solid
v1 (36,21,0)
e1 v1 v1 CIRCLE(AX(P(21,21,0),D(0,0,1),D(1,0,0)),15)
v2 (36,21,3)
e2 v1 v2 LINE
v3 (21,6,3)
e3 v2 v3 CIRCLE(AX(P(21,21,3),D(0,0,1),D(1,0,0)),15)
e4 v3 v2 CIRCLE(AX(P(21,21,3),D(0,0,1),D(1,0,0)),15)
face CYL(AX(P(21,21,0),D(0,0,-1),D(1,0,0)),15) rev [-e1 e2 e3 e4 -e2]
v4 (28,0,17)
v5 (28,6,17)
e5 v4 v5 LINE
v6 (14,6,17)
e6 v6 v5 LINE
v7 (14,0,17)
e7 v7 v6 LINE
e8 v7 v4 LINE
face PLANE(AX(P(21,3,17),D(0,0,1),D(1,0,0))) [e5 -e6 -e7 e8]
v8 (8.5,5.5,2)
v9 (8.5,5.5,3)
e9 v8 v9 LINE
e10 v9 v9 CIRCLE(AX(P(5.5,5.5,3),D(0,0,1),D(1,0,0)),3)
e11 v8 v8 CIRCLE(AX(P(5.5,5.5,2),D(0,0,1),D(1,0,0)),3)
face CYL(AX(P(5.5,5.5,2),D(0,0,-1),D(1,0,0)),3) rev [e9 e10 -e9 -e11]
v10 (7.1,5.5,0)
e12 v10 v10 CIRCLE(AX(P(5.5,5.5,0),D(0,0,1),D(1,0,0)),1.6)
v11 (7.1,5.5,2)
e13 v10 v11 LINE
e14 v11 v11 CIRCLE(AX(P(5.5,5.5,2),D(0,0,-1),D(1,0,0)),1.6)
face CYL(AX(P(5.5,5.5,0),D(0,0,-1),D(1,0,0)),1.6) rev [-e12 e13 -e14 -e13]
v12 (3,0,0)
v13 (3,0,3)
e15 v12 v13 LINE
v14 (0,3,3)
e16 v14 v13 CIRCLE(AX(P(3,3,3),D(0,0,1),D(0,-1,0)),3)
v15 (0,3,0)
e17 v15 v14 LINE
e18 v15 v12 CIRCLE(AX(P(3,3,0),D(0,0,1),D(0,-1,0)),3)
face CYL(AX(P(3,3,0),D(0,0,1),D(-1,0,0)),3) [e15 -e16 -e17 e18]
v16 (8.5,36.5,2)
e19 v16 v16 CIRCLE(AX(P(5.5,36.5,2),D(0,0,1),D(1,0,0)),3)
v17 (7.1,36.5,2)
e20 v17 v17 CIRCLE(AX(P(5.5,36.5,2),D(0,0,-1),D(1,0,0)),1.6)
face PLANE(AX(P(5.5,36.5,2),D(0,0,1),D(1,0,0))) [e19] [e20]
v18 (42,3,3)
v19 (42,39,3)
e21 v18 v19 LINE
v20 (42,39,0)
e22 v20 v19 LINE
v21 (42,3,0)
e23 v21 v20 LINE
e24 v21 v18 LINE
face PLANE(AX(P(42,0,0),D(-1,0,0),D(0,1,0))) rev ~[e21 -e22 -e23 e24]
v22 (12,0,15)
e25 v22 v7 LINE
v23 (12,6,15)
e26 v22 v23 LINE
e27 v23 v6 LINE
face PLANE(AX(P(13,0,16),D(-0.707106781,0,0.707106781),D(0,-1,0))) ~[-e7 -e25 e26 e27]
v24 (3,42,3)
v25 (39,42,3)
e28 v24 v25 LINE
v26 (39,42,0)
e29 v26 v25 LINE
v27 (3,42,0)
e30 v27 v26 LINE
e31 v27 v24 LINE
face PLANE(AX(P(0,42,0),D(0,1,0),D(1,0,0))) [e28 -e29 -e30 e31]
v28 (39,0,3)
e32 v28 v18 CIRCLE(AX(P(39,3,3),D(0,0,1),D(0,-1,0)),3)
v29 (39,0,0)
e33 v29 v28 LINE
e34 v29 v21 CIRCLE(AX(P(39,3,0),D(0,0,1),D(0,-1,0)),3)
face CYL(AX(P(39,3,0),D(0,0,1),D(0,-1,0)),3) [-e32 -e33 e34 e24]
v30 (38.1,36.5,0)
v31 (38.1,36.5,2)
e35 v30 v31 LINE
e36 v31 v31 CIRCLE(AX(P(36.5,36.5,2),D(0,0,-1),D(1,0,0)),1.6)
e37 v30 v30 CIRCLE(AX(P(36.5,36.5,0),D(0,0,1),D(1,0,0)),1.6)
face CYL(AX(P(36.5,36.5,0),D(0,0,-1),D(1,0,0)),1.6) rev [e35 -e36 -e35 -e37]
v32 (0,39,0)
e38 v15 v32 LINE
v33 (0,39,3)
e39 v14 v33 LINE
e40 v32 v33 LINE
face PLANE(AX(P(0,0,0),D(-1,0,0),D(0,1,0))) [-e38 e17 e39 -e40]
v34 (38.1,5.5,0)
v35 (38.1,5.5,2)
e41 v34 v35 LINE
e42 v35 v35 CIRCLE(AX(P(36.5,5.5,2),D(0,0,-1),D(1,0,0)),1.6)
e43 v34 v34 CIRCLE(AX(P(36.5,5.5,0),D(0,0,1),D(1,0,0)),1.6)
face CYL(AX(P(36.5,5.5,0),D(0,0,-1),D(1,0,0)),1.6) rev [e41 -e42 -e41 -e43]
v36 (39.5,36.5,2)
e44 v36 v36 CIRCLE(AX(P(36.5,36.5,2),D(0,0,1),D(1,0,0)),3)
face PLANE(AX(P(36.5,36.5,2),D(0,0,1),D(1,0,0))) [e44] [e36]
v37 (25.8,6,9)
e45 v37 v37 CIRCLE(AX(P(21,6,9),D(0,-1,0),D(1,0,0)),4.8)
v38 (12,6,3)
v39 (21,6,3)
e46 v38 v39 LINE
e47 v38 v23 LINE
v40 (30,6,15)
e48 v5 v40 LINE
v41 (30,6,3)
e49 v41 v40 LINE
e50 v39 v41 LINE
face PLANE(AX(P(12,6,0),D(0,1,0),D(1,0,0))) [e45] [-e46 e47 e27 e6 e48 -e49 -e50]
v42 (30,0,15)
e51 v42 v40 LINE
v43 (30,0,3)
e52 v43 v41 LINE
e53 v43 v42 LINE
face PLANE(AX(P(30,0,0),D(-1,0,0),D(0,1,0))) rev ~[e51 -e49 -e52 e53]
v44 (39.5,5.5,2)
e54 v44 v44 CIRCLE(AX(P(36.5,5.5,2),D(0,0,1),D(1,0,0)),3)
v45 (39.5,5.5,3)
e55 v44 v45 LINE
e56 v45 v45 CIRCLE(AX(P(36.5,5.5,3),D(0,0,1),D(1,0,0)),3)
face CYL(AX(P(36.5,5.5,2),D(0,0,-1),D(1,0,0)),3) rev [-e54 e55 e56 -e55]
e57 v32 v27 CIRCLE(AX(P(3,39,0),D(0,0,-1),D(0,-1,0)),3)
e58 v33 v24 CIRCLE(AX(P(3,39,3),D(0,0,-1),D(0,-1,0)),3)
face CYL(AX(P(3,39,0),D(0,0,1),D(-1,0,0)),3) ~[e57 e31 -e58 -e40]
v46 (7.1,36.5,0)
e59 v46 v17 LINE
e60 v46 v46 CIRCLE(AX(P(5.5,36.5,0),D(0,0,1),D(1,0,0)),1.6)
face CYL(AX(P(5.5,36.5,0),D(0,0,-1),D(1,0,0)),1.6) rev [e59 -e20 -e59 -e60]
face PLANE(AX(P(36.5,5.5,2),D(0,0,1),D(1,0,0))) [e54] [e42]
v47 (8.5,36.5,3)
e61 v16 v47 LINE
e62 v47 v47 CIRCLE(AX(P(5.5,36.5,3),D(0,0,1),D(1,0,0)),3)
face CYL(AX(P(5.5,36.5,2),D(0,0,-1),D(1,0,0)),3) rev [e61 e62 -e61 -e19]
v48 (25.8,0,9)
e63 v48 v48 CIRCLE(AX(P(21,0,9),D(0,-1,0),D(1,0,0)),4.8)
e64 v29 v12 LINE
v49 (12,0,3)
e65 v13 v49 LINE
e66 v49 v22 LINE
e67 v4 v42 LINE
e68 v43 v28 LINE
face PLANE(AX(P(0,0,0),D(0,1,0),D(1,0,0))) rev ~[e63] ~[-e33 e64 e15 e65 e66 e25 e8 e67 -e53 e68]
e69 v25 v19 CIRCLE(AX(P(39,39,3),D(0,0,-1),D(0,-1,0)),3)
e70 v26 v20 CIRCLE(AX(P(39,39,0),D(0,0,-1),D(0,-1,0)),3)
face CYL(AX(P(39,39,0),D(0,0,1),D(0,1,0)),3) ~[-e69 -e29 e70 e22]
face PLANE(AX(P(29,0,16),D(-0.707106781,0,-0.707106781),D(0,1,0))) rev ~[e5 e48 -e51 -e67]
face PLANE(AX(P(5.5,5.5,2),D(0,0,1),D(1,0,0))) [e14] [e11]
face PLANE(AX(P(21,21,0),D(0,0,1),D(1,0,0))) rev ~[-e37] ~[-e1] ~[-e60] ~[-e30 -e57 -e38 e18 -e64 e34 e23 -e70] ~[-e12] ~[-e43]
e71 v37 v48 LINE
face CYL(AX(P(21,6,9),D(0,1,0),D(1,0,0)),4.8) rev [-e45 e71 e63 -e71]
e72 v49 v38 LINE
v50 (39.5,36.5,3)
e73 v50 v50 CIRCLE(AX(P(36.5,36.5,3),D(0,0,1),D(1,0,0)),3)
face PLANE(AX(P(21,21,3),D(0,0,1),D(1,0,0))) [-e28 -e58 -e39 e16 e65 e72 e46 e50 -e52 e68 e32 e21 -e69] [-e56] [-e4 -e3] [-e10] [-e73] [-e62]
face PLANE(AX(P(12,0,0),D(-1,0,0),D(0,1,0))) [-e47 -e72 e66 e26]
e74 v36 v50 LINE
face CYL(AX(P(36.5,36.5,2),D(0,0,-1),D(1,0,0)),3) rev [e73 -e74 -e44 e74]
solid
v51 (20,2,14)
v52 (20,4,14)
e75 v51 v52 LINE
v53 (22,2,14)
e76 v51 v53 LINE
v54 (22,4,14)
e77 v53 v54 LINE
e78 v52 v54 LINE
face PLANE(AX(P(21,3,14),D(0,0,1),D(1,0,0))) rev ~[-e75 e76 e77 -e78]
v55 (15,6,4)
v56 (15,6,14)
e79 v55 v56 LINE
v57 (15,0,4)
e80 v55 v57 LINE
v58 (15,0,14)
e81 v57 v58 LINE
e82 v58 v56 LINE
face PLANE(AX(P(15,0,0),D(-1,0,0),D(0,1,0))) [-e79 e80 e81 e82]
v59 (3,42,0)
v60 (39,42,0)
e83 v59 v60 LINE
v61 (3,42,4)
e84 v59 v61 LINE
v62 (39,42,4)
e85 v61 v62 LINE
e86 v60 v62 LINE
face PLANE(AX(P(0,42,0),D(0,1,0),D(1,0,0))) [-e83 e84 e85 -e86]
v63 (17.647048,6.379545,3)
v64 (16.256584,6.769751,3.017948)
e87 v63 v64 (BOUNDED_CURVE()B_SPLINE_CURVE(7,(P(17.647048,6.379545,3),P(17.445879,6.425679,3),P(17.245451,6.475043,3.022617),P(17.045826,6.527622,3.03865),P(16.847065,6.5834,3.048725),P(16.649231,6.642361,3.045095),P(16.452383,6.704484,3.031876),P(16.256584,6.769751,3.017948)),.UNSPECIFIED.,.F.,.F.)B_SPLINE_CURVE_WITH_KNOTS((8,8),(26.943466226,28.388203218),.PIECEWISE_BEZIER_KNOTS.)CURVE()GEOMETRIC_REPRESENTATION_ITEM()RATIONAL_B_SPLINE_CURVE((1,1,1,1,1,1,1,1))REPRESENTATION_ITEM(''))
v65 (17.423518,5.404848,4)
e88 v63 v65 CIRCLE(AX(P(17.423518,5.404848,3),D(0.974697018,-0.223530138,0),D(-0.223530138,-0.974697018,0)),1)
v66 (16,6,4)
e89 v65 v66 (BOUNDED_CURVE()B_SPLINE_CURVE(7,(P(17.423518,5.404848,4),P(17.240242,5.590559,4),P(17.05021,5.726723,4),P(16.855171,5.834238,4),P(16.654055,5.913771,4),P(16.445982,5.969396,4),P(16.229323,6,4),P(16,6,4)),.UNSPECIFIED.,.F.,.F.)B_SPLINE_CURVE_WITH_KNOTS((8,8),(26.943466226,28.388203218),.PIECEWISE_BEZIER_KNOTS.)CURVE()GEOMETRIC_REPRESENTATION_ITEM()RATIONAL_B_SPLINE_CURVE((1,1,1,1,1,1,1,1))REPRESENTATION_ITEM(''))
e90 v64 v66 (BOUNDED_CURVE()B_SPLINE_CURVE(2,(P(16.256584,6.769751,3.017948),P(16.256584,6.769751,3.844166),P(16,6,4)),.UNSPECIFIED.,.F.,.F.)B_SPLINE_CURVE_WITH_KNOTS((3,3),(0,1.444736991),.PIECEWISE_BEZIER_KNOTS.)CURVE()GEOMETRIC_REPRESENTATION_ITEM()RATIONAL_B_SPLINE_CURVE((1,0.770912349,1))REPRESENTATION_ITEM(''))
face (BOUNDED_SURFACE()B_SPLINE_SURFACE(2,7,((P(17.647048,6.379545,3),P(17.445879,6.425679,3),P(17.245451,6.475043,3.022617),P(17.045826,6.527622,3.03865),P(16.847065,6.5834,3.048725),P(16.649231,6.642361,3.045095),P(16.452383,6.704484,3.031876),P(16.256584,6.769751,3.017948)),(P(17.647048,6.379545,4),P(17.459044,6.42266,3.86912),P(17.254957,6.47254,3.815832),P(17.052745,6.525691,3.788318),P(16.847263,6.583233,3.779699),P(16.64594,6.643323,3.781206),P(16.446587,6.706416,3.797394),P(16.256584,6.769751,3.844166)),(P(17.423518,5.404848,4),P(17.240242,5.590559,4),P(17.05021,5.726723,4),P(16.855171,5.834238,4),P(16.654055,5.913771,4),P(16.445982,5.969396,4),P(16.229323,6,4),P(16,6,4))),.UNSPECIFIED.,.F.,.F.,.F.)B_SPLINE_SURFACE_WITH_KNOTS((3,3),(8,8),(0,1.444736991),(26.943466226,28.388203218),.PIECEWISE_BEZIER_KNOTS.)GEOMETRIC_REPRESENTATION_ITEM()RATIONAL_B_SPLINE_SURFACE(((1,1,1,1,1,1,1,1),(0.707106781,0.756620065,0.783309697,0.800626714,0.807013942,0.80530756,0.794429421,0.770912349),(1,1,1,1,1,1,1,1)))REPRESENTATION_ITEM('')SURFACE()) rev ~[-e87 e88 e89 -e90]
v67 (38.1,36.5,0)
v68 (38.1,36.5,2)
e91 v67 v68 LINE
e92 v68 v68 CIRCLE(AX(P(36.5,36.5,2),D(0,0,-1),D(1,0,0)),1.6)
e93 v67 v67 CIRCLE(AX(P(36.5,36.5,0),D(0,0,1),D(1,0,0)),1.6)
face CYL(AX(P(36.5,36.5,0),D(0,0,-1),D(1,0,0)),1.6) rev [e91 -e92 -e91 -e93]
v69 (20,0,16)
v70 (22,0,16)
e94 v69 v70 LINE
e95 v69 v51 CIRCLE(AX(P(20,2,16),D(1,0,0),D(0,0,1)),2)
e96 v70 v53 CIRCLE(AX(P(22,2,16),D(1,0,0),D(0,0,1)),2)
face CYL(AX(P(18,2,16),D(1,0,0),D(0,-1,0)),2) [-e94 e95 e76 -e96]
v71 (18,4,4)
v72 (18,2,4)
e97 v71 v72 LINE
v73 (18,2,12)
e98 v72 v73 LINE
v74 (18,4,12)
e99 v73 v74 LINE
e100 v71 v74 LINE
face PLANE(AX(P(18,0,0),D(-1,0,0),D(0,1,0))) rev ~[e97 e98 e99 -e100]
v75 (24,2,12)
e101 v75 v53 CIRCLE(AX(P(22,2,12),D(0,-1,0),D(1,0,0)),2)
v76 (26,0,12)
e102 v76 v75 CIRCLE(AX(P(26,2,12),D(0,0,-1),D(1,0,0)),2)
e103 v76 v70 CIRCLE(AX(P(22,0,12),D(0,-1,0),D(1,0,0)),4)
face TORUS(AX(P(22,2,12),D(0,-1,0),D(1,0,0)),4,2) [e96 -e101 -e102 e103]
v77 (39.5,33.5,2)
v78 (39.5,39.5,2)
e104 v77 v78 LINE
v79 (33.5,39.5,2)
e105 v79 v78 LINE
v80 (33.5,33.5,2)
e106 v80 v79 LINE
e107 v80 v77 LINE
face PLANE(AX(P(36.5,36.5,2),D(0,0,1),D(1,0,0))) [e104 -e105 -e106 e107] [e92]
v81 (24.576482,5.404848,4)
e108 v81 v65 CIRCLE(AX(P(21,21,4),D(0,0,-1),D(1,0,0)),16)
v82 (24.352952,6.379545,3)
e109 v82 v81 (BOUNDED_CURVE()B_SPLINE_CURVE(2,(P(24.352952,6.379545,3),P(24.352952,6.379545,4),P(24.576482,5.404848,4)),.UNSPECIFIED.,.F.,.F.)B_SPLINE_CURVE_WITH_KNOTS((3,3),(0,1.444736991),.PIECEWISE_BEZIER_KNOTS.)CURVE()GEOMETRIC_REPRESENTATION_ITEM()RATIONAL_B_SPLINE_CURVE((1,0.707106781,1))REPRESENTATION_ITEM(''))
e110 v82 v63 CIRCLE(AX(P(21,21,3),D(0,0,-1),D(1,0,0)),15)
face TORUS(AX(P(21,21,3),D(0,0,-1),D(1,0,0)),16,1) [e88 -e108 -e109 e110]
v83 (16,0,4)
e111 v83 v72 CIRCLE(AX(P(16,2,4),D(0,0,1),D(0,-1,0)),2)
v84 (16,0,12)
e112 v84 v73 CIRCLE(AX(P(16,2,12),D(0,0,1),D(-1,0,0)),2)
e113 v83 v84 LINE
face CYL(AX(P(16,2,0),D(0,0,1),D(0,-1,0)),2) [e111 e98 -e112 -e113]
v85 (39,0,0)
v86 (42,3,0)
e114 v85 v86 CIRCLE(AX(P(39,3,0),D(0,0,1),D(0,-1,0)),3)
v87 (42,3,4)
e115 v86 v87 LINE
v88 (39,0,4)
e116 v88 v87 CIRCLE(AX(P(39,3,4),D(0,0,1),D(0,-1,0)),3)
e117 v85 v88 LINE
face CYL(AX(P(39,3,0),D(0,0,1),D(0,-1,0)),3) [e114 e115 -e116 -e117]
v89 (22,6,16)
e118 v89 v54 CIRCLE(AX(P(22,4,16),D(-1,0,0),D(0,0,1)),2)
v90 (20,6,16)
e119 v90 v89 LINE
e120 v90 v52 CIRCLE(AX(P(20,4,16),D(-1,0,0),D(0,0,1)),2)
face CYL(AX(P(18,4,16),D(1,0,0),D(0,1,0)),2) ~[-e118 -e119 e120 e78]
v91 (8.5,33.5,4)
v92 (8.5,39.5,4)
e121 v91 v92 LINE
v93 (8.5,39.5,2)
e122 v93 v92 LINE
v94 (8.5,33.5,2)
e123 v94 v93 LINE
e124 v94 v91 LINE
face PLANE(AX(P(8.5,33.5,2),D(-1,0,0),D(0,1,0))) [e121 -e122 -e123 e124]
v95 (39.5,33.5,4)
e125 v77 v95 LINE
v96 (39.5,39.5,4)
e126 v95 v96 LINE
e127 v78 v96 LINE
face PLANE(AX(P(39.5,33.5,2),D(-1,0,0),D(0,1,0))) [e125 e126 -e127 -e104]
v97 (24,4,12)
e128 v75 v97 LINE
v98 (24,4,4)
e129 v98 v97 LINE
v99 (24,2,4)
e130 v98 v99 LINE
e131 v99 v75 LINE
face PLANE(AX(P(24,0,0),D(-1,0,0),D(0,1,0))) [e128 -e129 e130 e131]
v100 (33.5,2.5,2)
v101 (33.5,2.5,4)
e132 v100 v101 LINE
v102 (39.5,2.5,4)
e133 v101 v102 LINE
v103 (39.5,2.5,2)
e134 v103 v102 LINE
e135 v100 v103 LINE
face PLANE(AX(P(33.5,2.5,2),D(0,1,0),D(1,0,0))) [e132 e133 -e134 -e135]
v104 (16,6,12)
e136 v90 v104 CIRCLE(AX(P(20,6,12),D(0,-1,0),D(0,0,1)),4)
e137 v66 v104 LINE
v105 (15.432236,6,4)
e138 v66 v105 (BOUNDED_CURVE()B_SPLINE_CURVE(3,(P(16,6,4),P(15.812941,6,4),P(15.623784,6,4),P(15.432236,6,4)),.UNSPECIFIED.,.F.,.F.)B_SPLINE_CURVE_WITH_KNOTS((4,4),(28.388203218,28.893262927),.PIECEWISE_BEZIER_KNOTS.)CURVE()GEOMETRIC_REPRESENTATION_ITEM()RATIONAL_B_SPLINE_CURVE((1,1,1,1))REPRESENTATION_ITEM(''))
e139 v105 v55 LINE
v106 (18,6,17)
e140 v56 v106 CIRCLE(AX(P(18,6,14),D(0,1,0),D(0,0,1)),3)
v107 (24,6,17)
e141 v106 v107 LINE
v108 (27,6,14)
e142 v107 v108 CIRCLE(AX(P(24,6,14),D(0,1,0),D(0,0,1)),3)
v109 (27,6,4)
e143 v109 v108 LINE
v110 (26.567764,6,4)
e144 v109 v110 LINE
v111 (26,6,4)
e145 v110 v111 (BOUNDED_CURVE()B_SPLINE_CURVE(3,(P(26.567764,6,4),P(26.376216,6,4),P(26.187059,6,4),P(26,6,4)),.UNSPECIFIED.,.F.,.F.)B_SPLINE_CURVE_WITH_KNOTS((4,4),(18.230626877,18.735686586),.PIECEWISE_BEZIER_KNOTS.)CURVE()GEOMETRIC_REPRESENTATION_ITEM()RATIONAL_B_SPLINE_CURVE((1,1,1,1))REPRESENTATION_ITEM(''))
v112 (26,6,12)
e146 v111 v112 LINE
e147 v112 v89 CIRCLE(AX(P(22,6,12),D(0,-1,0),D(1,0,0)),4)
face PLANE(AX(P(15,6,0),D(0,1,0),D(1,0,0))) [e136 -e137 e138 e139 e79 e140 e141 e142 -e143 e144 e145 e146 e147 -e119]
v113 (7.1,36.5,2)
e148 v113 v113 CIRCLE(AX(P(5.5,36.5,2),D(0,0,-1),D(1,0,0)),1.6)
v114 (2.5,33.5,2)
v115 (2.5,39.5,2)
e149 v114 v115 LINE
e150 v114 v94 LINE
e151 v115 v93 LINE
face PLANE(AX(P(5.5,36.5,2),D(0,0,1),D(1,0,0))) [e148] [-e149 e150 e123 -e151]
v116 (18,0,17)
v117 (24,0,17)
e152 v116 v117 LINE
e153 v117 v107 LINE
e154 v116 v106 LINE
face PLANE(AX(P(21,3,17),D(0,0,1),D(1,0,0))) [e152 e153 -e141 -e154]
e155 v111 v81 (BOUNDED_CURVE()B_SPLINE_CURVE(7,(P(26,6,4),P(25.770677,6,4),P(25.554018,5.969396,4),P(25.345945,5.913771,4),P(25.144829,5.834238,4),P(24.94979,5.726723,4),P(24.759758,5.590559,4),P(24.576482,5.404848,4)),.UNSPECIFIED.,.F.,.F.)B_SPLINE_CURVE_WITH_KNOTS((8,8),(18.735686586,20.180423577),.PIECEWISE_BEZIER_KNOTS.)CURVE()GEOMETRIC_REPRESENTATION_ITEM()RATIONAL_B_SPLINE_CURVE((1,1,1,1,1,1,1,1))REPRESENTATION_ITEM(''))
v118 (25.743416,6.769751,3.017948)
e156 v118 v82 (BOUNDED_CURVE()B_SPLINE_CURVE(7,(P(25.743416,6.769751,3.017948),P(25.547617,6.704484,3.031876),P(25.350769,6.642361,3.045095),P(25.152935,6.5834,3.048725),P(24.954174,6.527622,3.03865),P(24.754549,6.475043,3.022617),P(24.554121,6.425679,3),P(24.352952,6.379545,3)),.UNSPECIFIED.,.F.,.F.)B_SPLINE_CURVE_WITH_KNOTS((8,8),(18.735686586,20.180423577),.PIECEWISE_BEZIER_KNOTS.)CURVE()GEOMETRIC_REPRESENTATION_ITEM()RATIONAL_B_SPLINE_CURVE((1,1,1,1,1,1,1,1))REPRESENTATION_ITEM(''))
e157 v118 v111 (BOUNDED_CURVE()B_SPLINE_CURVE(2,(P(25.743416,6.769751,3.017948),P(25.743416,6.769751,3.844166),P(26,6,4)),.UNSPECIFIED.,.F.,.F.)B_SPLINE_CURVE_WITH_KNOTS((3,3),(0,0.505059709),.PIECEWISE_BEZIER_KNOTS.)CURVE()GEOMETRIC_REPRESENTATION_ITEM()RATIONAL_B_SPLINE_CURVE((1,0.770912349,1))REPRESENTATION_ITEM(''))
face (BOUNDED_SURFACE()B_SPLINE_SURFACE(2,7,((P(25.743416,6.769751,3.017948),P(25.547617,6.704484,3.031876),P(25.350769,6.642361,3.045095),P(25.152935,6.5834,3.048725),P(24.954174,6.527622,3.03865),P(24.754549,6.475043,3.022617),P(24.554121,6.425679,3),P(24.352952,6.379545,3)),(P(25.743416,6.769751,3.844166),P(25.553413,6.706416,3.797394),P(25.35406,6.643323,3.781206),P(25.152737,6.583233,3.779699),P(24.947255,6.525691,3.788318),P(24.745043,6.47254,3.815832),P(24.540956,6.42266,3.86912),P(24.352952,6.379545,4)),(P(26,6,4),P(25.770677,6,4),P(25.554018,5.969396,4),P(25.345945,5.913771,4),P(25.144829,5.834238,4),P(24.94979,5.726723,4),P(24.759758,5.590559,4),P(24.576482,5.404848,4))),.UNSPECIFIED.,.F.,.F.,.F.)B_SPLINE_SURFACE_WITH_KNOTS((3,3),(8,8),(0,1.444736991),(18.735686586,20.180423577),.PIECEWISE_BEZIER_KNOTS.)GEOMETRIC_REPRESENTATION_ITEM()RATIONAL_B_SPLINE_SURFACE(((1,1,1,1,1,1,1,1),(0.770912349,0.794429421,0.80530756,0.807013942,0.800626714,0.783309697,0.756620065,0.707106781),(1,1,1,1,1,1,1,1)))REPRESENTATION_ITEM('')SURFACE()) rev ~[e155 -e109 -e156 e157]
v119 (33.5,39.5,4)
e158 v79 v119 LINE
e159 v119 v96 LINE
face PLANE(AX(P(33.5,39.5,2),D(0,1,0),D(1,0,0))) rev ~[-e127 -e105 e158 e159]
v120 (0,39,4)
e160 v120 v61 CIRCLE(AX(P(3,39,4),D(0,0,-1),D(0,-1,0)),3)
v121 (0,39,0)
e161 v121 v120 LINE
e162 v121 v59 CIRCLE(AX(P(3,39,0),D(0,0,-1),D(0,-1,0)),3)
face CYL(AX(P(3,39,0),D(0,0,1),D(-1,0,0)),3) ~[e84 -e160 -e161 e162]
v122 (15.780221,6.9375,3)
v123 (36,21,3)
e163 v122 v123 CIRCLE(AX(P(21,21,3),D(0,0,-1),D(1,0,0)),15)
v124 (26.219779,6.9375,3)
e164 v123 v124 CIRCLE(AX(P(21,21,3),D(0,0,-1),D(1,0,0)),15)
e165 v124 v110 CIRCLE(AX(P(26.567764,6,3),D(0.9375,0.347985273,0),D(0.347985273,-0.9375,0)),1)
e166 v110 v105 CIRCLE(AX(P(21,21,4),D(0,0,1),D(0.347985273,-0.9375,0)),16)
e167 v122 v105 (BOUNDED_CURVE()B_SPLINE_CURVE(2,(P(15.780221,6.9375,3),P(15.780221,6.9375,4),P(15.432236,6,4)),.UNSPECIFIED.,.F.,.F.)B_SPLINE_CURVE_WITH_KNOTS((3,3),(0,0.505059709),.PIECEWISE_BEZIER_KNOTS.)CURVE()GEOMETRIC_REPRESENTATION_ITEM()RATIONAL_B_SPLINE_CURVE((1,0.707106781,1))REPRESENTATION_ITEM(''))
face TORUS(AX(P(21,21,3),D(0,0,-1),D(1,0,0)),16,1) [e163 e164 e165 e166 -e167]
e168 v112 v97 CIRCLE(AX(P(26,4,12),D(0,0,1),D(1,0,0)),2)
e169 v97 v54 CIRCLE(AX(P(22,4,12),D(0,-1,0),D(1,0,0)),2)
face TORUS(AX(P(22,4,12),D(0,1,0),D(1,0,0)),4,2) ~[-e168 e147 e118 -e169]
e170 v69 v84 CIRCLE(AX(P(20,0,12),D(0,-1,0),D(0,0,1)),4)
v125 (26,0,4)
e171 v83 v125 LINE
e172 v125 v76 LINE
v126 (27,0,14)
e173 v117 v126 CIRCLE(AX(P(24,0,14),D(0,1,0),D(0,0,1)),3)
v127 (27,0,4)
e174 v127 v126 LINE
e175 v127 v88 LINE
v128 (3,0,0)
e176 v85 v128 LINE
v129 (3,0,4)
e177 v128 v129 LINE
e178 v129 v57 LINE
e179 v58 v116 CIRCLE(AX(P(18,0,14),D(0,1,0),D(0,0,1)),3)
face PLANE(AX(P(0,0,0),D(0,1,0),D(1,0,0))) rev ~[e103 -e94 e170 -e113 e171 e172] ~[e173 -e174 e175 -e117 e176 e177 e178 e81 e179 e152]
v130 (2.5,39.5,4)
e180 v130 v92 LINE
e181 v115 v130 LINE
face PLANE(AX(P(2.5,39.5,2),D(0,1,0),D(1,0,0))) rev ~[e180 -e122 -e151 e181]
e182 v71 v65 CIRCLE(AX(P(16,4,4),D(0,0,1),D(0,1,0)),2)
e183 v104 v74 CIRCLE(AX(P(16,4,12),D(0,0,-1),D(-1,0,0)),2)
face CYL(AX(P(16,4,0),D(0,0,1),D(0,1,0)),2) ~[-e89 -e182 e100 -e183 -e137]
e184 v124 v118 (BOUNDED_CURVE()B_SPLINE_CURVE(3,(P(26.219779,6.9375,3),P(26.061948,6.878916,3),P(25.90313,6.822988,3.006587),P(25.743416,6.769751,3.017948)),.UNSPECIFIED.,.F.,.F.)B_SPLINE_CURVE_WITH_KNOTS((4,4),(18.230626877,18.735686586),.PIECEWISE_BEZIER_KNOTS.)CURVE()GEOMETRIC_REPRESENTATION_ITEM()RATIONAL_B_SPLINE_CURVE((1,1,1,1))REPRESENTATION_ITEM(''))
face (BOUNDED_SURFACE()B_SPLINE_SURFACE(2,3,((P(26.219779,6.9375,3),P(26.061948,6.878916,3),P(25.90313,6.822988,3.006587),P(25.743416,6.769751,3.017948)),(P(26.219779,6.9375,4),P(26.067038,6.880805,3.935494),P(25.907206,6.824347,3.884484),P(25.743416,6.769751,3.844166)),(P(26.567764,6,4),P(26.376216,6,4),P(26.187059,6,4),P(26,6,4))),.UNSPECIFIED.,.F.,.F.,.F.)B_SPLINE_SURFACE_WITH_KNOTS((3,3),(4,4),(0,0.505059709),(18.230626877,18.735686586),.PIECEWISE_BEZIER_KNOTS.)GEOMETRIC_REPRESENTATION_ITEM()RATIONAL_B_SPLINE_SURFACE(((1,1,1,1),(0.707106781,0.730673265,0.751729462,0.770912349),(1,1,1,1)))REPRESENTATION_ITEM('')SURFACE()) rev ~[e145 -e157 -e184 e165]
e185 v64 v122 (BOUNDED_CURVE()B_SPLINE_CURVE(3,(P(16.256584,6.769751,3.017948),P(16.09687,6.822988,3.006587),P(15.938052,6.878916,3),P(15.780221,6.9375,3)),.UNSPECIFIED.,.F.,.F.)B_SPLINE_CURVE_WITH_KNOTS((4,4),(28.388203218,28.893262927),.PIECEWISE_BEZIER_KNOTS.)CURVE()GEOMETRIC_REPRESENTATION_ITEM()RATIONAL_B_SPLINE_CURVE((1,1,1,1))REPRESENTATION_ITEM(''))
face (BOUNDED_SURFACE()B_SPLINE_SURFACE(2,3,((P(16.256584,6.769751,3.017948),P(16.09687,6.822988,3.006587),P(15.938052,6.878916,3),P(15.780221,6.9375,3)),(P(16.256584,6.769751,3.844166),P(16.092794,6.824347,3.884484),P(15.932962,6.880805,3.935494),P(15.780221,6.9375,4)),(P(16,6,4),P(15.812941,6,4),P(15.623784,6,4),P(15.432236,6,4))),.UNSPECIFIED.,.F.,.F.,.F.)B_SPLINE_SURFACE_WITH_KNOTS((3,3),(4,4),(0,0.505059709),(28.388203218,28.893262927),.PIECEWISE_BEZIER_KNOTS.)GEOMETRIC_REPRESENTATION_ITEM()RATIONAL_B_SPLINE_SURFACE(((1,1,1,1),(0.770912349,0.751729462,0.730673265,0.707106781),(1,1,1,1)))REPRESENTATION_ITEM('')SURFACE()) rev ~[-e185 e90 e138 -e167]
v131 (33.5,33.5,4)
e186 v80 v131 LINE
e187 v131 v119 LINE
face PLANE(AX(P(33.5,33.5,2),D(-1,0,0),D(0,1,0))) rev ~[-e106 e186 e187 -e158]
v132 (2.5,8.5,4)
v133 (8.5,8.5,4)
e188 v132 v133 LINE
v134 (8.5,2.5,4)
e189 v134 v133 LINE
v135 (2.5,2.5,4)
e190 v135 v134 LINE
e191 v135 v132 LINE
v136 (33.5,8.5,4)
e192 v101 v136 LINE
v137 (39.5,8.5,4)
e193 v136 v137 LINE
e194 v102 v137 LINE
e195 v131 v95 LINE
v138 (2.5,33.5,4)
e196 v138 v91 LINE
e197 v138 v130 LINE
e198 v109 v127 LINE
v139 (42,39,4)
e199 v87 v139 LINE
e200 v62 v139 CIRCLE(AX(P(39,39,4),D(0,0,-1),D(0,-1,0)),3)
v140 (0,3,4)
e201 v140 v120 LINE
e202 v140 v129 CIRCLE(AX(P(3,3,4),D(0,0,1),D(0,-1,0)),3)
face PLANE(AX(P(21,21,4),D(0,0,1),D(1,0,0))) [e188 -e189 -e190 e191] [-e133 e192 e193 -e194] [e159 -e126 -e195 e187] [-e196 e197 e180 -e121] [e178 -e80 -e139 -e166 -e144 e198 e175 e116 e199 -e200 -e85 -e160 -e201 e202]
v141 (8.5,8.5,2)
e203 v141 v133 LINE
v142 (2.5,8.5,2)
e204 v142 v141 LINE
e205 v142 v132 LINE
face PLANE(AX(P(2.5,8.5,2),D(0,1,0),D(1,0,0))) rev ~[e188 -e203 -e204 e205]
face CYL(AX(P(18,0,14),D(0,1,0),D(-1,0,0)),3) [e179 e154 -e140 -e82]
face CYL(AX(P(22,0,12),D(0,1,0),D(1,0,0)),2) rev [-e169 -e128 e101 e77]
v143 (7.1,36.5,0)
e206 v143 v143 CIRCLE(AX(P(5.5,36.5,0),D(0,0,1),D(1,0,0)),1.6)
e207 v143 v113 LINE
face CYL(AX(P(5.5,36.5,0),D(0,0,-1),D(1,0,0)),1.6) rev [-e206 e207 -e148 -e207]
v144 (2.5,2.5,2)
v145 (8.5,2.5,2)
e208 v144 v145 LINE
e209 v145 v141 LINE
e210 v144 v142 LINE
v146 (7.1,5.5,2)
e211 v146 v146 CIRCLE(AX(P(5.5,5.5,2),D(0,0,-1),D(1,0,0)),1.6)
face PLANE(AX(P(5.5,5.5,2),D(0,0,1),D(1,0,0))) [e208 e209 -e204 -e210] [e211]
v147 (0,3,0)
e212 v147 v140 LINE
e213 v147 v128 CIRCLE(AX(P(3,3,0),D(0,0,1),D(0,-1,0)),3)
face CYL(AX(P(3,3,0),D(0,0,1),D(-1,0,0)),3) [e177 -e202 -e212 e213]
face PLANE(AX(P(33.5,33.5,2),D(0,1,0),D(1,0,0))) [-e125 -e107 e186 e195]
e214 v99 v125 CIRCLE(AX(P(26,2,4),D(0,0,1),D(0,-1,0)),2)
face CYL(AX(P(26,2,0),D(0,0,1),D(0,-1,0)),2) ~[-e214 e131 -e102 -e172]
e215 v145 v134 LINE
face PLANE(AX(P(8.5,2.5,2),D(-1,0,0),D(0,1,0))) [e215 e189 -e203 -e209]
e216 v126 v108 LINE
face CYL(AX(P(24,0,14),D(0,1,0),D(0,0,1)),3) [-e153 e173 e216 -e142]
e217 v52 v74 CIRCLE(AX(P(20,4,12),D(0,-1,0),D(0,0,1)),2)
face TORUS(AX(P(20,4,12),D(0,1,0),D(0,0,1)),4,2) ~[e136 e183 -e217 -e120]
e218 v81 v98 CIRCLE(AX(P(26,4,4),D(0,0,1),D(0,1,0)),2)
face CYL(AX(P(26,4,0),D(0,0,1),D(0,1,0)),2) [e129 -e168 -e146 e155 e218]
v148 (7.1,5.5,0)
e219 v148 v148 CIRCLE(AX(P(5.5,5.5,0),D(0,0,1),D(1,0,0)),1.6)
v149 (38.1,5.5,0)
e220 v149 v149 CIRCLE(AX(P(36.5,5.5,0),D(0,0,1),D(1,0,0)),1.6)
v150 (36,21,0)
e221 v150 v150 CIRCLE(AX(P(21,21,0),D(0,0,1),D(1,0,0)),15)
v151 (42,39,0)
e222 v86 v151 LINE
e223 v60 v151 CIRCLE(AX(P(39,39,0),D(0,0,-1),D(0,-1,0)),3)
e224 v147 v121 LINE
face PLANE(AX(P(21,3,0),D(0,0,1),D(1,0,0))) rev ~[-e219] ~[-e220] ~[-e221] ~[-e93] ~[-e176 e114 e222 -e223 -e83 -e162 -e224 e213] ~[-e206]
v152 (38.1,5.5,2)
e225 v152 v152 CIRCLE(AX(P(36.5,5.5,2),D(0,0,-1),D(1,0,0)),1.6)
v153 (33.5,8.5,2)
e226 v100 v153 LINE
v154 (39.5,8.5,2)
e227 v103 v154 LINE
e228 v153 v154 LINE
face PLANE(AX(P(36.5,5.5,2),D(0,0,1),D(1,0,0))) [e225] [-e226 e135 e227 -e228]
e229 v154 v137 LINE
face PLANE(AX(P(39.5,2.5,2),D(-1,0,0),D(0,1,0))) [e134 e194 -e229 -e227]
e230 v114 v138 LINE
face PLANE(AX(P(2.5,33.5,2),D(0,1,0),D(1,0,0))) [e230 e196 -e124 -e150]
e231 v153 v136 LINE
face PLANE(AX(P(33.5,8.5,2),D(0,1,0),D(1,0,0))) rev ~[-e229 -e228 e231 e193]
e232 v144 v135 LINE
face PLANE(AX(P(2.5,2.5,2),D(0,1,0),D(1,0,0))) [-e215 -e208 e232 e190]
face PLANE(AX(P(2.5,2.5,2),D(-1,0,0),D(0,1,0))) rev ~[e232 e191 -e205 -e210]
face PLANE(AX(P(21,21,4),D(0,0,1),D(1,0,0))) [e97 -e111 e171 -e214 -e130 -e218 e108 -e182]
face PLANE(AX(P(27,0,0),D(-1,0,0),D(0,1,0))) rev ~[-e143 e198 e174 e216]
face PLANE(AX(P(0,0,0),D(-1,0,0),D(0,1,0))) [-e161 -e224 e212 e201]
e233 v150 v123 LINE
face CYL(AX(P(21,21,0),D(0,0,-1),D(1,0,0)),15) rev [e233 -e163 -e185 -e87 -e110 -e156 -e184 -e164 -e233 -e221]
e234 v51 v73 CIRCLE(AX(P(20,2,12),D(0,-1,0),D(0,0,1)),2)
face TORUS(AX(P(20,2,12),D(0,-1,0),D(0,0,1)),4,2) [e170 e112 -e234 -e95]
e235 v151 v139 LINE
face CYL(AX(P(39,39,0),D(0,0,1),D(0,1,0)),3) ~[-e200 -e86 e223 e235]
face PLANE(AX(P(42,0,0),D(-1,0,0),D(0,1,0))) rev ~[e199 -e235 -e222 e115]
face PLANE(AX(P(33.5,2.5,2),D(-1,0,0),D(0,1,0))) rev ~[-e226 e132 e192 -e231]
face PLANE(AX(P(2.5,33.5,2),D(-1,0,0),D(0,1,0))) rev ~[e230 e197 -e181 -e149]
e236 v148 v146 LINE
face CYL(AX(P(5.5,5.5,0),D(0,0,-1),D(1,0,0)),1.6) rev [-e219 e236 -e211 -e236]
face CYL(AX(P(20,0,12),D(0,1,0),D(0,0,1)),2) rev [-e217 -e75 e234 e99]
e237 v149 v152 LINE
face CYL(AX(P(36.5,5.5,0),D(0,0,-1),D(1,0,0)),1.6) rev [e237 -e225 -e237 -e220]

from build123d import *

# Parameters (mm, degrees)
BOX008_W          = 6
BOX008_H          = 6
BOX008_DEPTH      = 14
BOX007_W          = 12
BOX007_H          = 6
BOX007_DEPTH      = 17
FILLET002_R       = 3
FILLET003_R       = 2
CYLINDER013_R     = 15
CYLINDER013_DEPTH = 10
CYLINDER010_R     = 1.6
CYLINDER010_DEPTH = 4
CYLINDER011_R     = 1.6
CYLINDER011_DEPTH = 4
CYLINDER012_R     = 1.6
CYLINDER012_DEPTH = 4
CYLINDER009_R     = 1.6
CYLINDER009_DEPTH = 4
BOX004_W          = 6
BOX004_H          = 6
BOX004_DEPTH      = 2
BOX005_W          = 6
BOX005_H          = 6
BOX005_DEPTH      = 2
BOX001_W          = 6
BOX001_H          = 6
BOX001_DEPTH      = 2
BOX003_W          = 6
BOX003_H          = 6
BOX003_DEPTH      = 2
BOX002_W          = 42
BOX002_H          = 42
BOX002_DEPTH      = 4
FILLET001_R       = 3
FILLET004_R       = 1
CYLINDER008_R     = 15
CYLINDER008_DEPTH = 3
CYLINDER007_R     = 3
CYLINDER007_DEPTH = 1
CYLINDER006_R     = 3
CYLINDER006_DEPTH = 1
CYLINDER005_R     = 3
CYLINDER005_DEPTH = 1
CYLINDER004_R     = 3
CYLINDER004_DEPTH = 1
CYLINDER_R        = 1.6
CYLINDER_DEPTH    = 3
CYLINDER001_R     = 1.6
CYLINDER001_DEPTH = 3
CYLINDER002_R     = 1.6
CYLINDER002_DEPTH = 3
CYLINDER003_R     = 1.6
CYLINDER003_DEPTH = 3
BOX_W             = 42
BOX_H             = 42
BOX_DEPTH         = 3
FILLET_R          = 3
CYLINDER014_R     = 4.8
CYLINDER014_DEPTH = 6
BOX006_W          = 18
BOX006_H          = 6
BOX006_DEPTH      = 17
CHAMFER_SIZE      = 2


with BuildPart() as cube008:
    # Box008 → Box008 (new body)
    with BuildSketch(Plane(origin=(3, 0, 0), x_dir=(1, 0, 0), z_dir=(0, 0, 1))):
        with Locations((3, 3)):
            Rectangle(BOX008_W, BOX008_H)
    extrude(amount=BOX008_DEPTH)


with BuildPart() as fillet003:
    # Box007 → Box007 (new body)
    with BuildSketch(Plane.XY):
        with Locations((6, 3)):
            Rectangle(BOX007_W, BOX007_H)
    extrude(amount=BOX007_DEPTH)

    # Cut007: cut Cube008
    add(cube008.part, mode=Mode.SUBTRACT)


with BuildPart() as fillet003_1:
    # Cut007 placement: moved
    add(fillet003.part.moved(Location((15, 0, 0))))

    # Fillet002
    fillet002_edges = [fillet003_1.edges().sort_by_distance(p)[0] for p in [
        (15, 3, 17),
        (27, 3, 17),
    ]]
    fillet(fillet002_edges, radius=FILLET002_R)

    # Fillet003
    fillet003_edges = [fillet003_1.edges().sort_by_distance(p)[0] for p in [
        (24, 0, 7),
        (21, 0, 14),
        (18, 0, 7),
        (24, 6, 7),
        (21, 6, 14),
        (18, 6, 7),
        (24, 3, 14),
        (18, 3, 14),
    ]]
    fillet(fillet003_edges, radius=FILLET003_R)


with BuildPart() as cylinder013:
    # Cylinder013 → Cylinder013 (new body)
    with BuildSketch(Plane(origin=(21, 21, 0), x_dir=(1, 0, 0), z_dir=(0, 0, 1))):
        Circle(CYLINDER013_R)
    extrude(amount=CYLINDER013_DEPTH)


with BuildPart() as cylinder010:
    # Cylinder010 → Cylinder010 (new body)
    with BuildSketch(Plane(origin=(36.5, 5.5, 0), x_dir=(1, 0, 0), z_dir=(0, 0, 1))):
        Circle(CYLINDER010_R)
    extrude(amount=CYLINDER010_DEPTH)


with BuildPart() as cylinder011:
    # Cylinder011 → Cylinder011 (new body)
    with BuildSketch(Plane(origin=(5.5, 36.5, 0), x_dir=(1, 0, 0), z_dir=(0, 0, 1))):
        Circle(CYLINDER011_R)
    extrude(amount=CYLINDER011_DEPTH)


with BuildPart() as cylinder012:
    # Cylinder012 → Cylinder012 (new body)
    with BuildSketch(Plane(origin=(36.5, 36.5, 0), x_dir=(1, 0, 0), z_dir=(0, 0, 1))):
        Circle(CYLINDER012_R)
    extrude(amount=CYLINDER012_DEPTH)


with BuildPart() as fusion003:
    # Cylinder009 → Cylinder009 (new body)
    with BuildSketch(Plane(origin=(5.5, 5.5, 0), x_dir=(1, 0, 0), z_dir=(0, 0, 1))):
        Circle(CYLINDER009_R)
    extrude(amount=CYLINDER009_DEPTH)

    # Fusion003: union Cylinder010, Cylinder011, Cylinder012
    add(cylinder010.part)
    add(cylinder011.part)
    add(cylinder012.part)


with BuildPart() as cube004:
    # Box004 → Box004 (new body)
    with BuildSketch(Plane(origin=(2.5, 33.5, 1), x_dir=(1, 0, 0), z_dir=(0, 0, 1))):
        with Locations((3, 3)):
            Rectangle(BOX004_W, BOX004_H)
    extrude(amount=BOX004_DEPTH)


with BuildPart() as cube005:
    # Box005 → Box005 (new body)
    with BuildSketch(Plane(origin=(33.5, 33.5, 1), x_dir=(1, 0, 0), z_dir=(0, 0, 1))):
        with Locations((3, 3)):
            Rectangle(BOX005_W, BOX005_H)
    extrude(amount=BOX005_DEPTH)


with BuildPart() as cube001:
    # Box001 → Box001 (new body)
    with BuildSketch(Plane(origin=(2.5, 2.5, 1), x_dir=(1, 0, 0), z_dir=(0, 0, 1))):
        with Locations((3, 3)):
            Rectangle(BOX001_W, BOX001_H)
    extrude(amount=BOX001_DEPTH)


with BuildPart() as fusion002:
    # Box003 → Box003 (new body)
    with BuildSketch(Plane(origin=(33.5, 2.5, 1), x_dir=(1, 0, 0), z_dir=(0, 0, 1))):
        with Locations((3, 3)):
            Rectangle(BOX003_W, BOX003_H)
    extrude(amount=BOX003_DEPTH)

    # Fusion002: union Cube004, Cube005, Cube001
    add(cube004.part)
    add(cube005.part)
    add(cube001.part)


with BuildPart() as fusion002_1:
    # Fusion002 placement: moved
    add(fusion002.part.moved(Location((0, 0, 1))))


with BuildPart() as fillet004:
    # Box002 → Box002 (new body)
    with BuildSketch(Plane.XY):
        with Locations((21, 21)):
            Rectangle(BOX002_W, BOX002_H)
    extrude(amount=BOX002_DEPTH)

    # Cut003: cut Fusion002
    add(fusion002_1.part, mode=Mode.SUBTRACT)

    # Cut004: cut Fusion003
    add(fusion003.part, mode=Mode.SUBTRACT)

    # Fillet001
    fillet001_edges = [fillet004.edges().sort_by_distance(p)[0] for p in [
        (0, 0, 2),
        (0, 42, 2),
        (42, 0, 2),
        (42, 42, 2),
    ]]
    fillet(fillet001_edges, radius=FILLET001_R)

    # Cut005: cut Cylinder013
    add(cylinder013.part, mode=Mode.SUBTRACT)

    # Fusion005: union Fillet003
    add(fillet003_1.part)

    # Fillet004
    fillet004_edges = [fillet004.edges().sort_by_distance(p)[0] for p in [
        (6, 21, 4),
    ]]
    fillet(fillet004_edges, radius=FILLET004_R)


with BuildPart() as cylinder008:
    # Cylinder008 → Cylinder008 (new body)
    with BuildSketch(Plane(origin=(21, 21, 0), x_dir=(1, 0, 0), z_dir=(0, 0, 1))):
        Circle(CYLINDER008_R)
    extrude(amount=CYLINDER008_DEPTH)


with BuildPart() as cylinder007:
    # Cylinder007 → Cylinder007 (new body)
    with BuildSketch(Plane(origin=(5.5, 36.5, 0), x_dir=(1, 0, 0), z_dir=(0, 0, 1))):
        Circle(CYLINDER007_R)
    extrude(amount=CYLINDER007_DEPTH)


with BuildPart() as cylinder006:
    # Cylinder006 → Cylinder006 (new body)
    with BuildSketch(Plane(origin=(36.5, 5.5, 0), x_dir=(1, 0, 0), z_dir=(0, 0, 1))):
        Circle(CYLINDER006_R)
    extrude(amount=CYLINDER006_DEPTH)


with BuildPart() as cylinder005:
    # Cylinder005 → Cylinder005 (new body)
    with BuildSketch(Plane(origin=(5.5, 5.5, 0), x_dir=(1, 0, 0), z_dir=(0, 0, 1))):
        Circle(CYLINDER005_R)
    extrude(amount=CYLINDER005_DEPTH)


with BuildPart() as fusion001:
    # Cylinder004 → Cylinder004 (new body)
    with BuildSketch(Plane(origin=(36.5, 36.5, 0), x_dir=(1, 0, 0), z_dir=(0, 0, 1))):
        Circle(CYLINDER004_R)
    extrude(amount=CYLINDER004_DEPTH)

    # Fusion001: union Cylinder007, Cylinder006, Cylinder005
    add(cylinder007.part)
    add(cylinder006.part)
    add(cylinder005.part)


with BuildPart() as fusion001_1:
    # Fusion001 placement: moved
    add(fusion001.part.moved(Location((0, 0, 2))))


with BuildPart() as cylinder:
    # Cylinder → Cylinder (new body)
    with BuildSketch(Plane(origin=(5.5, 5.5, 0), x_dir=(1, 0, 0), z_dir=(0, 0, 1))):
        Circle(CYLINDER_R)
    extrude(amount=CYLINDER_DEPTH)


with BuildPart() as cylinder001:
    # Cylinder001 → Cylinder001 (new body)
    with BuildSketch(Plane(origin=(36.5, 5.5, 0), x_dir=(1, 0, 0), z_dir=(0, 0, 1))):
        Circle(CYLINDER001_R)
    extrude(amount=CYLINDER001_DEPTH)


with BuildPart() as cylinder002:
    # Cylinder002 → Cylinder002 (new body)
    with BuildSketch(Plane(origin=(5.5, 36.5, 0), x_dir=(1, 0, 0), z_dir=(0, 0, 1))):
        Circle(CYLINDER002_R)
    extrude(amount=CYLINDER002_DEPTH)


with BuildPart() as fusion:
    # Cylinder003 → Cylinder003 (new body)
    with BuildSketch(Plane(origin=(36.5, 36.5, 0), x_dir=(1, 0, 0), z_dir=(0, 0, 1))):
        Circle(CYLINDER003_R)
    extrude(amount=CYLINDER003_DEPTH)

    # Fusion: union Cylinder, Cylinder001, Cylinder002
    add(cylinder.part)
    add(cylinder001.part)
    add(cylinder002.part)


with BuildPart() as cut002:
    # Box → Box (new body)
    with BuildSketch(Plane.XY):
        with Locations((21, 21)):
            Rectangle(BOX_W, BOX_H)
    extrude(amount=BOX_DEPTH)

    # Cut: cut Fusion
    add(fusion.part, mode=Mode.SUBTRACT)

    # Cut001: cut Fusion001
    add(fusion001_1.part, mode=Mode.SUBTRACT)

    # Fillet
    fillet_edges = [cut002.edges().sort_by_distance(p)[0] for p in [
        (0, 0, 1.5),
        (0, 42, 1.5),
        (42, 0, 1.5),
        (42, 42, 1.5),
    ]]
    fillet(fillet_edges, radius=FILLET_R)

    # Cut002: cut Cylinder008
    add(cylinder008.part, mode=Mode.SUBTRACT)


with BuildPart() as cylinder014:
    # Cylinder014 → Cylinder014 (new body)
    with BuildSketch(Plane(origin=(21, 6, 9), x_dir=(1, 0, 0), z_dir=(0, -1, 0))):
        Circle(CYLINDER014_R)
    extrude(amount=CYLINDER014_DEPTH)


with BuildPart() as fusion006:
    # Box006 → Box006 (new body)
    with BuildSketch(Plane(origin=(12, 0, 0), x_dir=(1, 0, 0), z_dir=(0, 0, 1))):
        with Locations((9, 3)):
            Rectangle(BOX006_W, BOX006_H)
    extrude(amount=BOX006_DEPTH)

    # Cut008: cut Cylinder014
    add(cylinder014.part, mode=Mode.SUBTRACT)

    # Chamfer
    chamfer_edges = [fusion006.edges().sort_by_distance(p)[0] for p in [
        (12, 3, 17),
        (30, 3, 17),
    ]]
    chamfer(chamfer_edges, length=CHAMFER_SIZE)

    # Fusion006: union Cut002
    add(cut002.part)


solid = Compound([fillet004.part, fusion006.part])
